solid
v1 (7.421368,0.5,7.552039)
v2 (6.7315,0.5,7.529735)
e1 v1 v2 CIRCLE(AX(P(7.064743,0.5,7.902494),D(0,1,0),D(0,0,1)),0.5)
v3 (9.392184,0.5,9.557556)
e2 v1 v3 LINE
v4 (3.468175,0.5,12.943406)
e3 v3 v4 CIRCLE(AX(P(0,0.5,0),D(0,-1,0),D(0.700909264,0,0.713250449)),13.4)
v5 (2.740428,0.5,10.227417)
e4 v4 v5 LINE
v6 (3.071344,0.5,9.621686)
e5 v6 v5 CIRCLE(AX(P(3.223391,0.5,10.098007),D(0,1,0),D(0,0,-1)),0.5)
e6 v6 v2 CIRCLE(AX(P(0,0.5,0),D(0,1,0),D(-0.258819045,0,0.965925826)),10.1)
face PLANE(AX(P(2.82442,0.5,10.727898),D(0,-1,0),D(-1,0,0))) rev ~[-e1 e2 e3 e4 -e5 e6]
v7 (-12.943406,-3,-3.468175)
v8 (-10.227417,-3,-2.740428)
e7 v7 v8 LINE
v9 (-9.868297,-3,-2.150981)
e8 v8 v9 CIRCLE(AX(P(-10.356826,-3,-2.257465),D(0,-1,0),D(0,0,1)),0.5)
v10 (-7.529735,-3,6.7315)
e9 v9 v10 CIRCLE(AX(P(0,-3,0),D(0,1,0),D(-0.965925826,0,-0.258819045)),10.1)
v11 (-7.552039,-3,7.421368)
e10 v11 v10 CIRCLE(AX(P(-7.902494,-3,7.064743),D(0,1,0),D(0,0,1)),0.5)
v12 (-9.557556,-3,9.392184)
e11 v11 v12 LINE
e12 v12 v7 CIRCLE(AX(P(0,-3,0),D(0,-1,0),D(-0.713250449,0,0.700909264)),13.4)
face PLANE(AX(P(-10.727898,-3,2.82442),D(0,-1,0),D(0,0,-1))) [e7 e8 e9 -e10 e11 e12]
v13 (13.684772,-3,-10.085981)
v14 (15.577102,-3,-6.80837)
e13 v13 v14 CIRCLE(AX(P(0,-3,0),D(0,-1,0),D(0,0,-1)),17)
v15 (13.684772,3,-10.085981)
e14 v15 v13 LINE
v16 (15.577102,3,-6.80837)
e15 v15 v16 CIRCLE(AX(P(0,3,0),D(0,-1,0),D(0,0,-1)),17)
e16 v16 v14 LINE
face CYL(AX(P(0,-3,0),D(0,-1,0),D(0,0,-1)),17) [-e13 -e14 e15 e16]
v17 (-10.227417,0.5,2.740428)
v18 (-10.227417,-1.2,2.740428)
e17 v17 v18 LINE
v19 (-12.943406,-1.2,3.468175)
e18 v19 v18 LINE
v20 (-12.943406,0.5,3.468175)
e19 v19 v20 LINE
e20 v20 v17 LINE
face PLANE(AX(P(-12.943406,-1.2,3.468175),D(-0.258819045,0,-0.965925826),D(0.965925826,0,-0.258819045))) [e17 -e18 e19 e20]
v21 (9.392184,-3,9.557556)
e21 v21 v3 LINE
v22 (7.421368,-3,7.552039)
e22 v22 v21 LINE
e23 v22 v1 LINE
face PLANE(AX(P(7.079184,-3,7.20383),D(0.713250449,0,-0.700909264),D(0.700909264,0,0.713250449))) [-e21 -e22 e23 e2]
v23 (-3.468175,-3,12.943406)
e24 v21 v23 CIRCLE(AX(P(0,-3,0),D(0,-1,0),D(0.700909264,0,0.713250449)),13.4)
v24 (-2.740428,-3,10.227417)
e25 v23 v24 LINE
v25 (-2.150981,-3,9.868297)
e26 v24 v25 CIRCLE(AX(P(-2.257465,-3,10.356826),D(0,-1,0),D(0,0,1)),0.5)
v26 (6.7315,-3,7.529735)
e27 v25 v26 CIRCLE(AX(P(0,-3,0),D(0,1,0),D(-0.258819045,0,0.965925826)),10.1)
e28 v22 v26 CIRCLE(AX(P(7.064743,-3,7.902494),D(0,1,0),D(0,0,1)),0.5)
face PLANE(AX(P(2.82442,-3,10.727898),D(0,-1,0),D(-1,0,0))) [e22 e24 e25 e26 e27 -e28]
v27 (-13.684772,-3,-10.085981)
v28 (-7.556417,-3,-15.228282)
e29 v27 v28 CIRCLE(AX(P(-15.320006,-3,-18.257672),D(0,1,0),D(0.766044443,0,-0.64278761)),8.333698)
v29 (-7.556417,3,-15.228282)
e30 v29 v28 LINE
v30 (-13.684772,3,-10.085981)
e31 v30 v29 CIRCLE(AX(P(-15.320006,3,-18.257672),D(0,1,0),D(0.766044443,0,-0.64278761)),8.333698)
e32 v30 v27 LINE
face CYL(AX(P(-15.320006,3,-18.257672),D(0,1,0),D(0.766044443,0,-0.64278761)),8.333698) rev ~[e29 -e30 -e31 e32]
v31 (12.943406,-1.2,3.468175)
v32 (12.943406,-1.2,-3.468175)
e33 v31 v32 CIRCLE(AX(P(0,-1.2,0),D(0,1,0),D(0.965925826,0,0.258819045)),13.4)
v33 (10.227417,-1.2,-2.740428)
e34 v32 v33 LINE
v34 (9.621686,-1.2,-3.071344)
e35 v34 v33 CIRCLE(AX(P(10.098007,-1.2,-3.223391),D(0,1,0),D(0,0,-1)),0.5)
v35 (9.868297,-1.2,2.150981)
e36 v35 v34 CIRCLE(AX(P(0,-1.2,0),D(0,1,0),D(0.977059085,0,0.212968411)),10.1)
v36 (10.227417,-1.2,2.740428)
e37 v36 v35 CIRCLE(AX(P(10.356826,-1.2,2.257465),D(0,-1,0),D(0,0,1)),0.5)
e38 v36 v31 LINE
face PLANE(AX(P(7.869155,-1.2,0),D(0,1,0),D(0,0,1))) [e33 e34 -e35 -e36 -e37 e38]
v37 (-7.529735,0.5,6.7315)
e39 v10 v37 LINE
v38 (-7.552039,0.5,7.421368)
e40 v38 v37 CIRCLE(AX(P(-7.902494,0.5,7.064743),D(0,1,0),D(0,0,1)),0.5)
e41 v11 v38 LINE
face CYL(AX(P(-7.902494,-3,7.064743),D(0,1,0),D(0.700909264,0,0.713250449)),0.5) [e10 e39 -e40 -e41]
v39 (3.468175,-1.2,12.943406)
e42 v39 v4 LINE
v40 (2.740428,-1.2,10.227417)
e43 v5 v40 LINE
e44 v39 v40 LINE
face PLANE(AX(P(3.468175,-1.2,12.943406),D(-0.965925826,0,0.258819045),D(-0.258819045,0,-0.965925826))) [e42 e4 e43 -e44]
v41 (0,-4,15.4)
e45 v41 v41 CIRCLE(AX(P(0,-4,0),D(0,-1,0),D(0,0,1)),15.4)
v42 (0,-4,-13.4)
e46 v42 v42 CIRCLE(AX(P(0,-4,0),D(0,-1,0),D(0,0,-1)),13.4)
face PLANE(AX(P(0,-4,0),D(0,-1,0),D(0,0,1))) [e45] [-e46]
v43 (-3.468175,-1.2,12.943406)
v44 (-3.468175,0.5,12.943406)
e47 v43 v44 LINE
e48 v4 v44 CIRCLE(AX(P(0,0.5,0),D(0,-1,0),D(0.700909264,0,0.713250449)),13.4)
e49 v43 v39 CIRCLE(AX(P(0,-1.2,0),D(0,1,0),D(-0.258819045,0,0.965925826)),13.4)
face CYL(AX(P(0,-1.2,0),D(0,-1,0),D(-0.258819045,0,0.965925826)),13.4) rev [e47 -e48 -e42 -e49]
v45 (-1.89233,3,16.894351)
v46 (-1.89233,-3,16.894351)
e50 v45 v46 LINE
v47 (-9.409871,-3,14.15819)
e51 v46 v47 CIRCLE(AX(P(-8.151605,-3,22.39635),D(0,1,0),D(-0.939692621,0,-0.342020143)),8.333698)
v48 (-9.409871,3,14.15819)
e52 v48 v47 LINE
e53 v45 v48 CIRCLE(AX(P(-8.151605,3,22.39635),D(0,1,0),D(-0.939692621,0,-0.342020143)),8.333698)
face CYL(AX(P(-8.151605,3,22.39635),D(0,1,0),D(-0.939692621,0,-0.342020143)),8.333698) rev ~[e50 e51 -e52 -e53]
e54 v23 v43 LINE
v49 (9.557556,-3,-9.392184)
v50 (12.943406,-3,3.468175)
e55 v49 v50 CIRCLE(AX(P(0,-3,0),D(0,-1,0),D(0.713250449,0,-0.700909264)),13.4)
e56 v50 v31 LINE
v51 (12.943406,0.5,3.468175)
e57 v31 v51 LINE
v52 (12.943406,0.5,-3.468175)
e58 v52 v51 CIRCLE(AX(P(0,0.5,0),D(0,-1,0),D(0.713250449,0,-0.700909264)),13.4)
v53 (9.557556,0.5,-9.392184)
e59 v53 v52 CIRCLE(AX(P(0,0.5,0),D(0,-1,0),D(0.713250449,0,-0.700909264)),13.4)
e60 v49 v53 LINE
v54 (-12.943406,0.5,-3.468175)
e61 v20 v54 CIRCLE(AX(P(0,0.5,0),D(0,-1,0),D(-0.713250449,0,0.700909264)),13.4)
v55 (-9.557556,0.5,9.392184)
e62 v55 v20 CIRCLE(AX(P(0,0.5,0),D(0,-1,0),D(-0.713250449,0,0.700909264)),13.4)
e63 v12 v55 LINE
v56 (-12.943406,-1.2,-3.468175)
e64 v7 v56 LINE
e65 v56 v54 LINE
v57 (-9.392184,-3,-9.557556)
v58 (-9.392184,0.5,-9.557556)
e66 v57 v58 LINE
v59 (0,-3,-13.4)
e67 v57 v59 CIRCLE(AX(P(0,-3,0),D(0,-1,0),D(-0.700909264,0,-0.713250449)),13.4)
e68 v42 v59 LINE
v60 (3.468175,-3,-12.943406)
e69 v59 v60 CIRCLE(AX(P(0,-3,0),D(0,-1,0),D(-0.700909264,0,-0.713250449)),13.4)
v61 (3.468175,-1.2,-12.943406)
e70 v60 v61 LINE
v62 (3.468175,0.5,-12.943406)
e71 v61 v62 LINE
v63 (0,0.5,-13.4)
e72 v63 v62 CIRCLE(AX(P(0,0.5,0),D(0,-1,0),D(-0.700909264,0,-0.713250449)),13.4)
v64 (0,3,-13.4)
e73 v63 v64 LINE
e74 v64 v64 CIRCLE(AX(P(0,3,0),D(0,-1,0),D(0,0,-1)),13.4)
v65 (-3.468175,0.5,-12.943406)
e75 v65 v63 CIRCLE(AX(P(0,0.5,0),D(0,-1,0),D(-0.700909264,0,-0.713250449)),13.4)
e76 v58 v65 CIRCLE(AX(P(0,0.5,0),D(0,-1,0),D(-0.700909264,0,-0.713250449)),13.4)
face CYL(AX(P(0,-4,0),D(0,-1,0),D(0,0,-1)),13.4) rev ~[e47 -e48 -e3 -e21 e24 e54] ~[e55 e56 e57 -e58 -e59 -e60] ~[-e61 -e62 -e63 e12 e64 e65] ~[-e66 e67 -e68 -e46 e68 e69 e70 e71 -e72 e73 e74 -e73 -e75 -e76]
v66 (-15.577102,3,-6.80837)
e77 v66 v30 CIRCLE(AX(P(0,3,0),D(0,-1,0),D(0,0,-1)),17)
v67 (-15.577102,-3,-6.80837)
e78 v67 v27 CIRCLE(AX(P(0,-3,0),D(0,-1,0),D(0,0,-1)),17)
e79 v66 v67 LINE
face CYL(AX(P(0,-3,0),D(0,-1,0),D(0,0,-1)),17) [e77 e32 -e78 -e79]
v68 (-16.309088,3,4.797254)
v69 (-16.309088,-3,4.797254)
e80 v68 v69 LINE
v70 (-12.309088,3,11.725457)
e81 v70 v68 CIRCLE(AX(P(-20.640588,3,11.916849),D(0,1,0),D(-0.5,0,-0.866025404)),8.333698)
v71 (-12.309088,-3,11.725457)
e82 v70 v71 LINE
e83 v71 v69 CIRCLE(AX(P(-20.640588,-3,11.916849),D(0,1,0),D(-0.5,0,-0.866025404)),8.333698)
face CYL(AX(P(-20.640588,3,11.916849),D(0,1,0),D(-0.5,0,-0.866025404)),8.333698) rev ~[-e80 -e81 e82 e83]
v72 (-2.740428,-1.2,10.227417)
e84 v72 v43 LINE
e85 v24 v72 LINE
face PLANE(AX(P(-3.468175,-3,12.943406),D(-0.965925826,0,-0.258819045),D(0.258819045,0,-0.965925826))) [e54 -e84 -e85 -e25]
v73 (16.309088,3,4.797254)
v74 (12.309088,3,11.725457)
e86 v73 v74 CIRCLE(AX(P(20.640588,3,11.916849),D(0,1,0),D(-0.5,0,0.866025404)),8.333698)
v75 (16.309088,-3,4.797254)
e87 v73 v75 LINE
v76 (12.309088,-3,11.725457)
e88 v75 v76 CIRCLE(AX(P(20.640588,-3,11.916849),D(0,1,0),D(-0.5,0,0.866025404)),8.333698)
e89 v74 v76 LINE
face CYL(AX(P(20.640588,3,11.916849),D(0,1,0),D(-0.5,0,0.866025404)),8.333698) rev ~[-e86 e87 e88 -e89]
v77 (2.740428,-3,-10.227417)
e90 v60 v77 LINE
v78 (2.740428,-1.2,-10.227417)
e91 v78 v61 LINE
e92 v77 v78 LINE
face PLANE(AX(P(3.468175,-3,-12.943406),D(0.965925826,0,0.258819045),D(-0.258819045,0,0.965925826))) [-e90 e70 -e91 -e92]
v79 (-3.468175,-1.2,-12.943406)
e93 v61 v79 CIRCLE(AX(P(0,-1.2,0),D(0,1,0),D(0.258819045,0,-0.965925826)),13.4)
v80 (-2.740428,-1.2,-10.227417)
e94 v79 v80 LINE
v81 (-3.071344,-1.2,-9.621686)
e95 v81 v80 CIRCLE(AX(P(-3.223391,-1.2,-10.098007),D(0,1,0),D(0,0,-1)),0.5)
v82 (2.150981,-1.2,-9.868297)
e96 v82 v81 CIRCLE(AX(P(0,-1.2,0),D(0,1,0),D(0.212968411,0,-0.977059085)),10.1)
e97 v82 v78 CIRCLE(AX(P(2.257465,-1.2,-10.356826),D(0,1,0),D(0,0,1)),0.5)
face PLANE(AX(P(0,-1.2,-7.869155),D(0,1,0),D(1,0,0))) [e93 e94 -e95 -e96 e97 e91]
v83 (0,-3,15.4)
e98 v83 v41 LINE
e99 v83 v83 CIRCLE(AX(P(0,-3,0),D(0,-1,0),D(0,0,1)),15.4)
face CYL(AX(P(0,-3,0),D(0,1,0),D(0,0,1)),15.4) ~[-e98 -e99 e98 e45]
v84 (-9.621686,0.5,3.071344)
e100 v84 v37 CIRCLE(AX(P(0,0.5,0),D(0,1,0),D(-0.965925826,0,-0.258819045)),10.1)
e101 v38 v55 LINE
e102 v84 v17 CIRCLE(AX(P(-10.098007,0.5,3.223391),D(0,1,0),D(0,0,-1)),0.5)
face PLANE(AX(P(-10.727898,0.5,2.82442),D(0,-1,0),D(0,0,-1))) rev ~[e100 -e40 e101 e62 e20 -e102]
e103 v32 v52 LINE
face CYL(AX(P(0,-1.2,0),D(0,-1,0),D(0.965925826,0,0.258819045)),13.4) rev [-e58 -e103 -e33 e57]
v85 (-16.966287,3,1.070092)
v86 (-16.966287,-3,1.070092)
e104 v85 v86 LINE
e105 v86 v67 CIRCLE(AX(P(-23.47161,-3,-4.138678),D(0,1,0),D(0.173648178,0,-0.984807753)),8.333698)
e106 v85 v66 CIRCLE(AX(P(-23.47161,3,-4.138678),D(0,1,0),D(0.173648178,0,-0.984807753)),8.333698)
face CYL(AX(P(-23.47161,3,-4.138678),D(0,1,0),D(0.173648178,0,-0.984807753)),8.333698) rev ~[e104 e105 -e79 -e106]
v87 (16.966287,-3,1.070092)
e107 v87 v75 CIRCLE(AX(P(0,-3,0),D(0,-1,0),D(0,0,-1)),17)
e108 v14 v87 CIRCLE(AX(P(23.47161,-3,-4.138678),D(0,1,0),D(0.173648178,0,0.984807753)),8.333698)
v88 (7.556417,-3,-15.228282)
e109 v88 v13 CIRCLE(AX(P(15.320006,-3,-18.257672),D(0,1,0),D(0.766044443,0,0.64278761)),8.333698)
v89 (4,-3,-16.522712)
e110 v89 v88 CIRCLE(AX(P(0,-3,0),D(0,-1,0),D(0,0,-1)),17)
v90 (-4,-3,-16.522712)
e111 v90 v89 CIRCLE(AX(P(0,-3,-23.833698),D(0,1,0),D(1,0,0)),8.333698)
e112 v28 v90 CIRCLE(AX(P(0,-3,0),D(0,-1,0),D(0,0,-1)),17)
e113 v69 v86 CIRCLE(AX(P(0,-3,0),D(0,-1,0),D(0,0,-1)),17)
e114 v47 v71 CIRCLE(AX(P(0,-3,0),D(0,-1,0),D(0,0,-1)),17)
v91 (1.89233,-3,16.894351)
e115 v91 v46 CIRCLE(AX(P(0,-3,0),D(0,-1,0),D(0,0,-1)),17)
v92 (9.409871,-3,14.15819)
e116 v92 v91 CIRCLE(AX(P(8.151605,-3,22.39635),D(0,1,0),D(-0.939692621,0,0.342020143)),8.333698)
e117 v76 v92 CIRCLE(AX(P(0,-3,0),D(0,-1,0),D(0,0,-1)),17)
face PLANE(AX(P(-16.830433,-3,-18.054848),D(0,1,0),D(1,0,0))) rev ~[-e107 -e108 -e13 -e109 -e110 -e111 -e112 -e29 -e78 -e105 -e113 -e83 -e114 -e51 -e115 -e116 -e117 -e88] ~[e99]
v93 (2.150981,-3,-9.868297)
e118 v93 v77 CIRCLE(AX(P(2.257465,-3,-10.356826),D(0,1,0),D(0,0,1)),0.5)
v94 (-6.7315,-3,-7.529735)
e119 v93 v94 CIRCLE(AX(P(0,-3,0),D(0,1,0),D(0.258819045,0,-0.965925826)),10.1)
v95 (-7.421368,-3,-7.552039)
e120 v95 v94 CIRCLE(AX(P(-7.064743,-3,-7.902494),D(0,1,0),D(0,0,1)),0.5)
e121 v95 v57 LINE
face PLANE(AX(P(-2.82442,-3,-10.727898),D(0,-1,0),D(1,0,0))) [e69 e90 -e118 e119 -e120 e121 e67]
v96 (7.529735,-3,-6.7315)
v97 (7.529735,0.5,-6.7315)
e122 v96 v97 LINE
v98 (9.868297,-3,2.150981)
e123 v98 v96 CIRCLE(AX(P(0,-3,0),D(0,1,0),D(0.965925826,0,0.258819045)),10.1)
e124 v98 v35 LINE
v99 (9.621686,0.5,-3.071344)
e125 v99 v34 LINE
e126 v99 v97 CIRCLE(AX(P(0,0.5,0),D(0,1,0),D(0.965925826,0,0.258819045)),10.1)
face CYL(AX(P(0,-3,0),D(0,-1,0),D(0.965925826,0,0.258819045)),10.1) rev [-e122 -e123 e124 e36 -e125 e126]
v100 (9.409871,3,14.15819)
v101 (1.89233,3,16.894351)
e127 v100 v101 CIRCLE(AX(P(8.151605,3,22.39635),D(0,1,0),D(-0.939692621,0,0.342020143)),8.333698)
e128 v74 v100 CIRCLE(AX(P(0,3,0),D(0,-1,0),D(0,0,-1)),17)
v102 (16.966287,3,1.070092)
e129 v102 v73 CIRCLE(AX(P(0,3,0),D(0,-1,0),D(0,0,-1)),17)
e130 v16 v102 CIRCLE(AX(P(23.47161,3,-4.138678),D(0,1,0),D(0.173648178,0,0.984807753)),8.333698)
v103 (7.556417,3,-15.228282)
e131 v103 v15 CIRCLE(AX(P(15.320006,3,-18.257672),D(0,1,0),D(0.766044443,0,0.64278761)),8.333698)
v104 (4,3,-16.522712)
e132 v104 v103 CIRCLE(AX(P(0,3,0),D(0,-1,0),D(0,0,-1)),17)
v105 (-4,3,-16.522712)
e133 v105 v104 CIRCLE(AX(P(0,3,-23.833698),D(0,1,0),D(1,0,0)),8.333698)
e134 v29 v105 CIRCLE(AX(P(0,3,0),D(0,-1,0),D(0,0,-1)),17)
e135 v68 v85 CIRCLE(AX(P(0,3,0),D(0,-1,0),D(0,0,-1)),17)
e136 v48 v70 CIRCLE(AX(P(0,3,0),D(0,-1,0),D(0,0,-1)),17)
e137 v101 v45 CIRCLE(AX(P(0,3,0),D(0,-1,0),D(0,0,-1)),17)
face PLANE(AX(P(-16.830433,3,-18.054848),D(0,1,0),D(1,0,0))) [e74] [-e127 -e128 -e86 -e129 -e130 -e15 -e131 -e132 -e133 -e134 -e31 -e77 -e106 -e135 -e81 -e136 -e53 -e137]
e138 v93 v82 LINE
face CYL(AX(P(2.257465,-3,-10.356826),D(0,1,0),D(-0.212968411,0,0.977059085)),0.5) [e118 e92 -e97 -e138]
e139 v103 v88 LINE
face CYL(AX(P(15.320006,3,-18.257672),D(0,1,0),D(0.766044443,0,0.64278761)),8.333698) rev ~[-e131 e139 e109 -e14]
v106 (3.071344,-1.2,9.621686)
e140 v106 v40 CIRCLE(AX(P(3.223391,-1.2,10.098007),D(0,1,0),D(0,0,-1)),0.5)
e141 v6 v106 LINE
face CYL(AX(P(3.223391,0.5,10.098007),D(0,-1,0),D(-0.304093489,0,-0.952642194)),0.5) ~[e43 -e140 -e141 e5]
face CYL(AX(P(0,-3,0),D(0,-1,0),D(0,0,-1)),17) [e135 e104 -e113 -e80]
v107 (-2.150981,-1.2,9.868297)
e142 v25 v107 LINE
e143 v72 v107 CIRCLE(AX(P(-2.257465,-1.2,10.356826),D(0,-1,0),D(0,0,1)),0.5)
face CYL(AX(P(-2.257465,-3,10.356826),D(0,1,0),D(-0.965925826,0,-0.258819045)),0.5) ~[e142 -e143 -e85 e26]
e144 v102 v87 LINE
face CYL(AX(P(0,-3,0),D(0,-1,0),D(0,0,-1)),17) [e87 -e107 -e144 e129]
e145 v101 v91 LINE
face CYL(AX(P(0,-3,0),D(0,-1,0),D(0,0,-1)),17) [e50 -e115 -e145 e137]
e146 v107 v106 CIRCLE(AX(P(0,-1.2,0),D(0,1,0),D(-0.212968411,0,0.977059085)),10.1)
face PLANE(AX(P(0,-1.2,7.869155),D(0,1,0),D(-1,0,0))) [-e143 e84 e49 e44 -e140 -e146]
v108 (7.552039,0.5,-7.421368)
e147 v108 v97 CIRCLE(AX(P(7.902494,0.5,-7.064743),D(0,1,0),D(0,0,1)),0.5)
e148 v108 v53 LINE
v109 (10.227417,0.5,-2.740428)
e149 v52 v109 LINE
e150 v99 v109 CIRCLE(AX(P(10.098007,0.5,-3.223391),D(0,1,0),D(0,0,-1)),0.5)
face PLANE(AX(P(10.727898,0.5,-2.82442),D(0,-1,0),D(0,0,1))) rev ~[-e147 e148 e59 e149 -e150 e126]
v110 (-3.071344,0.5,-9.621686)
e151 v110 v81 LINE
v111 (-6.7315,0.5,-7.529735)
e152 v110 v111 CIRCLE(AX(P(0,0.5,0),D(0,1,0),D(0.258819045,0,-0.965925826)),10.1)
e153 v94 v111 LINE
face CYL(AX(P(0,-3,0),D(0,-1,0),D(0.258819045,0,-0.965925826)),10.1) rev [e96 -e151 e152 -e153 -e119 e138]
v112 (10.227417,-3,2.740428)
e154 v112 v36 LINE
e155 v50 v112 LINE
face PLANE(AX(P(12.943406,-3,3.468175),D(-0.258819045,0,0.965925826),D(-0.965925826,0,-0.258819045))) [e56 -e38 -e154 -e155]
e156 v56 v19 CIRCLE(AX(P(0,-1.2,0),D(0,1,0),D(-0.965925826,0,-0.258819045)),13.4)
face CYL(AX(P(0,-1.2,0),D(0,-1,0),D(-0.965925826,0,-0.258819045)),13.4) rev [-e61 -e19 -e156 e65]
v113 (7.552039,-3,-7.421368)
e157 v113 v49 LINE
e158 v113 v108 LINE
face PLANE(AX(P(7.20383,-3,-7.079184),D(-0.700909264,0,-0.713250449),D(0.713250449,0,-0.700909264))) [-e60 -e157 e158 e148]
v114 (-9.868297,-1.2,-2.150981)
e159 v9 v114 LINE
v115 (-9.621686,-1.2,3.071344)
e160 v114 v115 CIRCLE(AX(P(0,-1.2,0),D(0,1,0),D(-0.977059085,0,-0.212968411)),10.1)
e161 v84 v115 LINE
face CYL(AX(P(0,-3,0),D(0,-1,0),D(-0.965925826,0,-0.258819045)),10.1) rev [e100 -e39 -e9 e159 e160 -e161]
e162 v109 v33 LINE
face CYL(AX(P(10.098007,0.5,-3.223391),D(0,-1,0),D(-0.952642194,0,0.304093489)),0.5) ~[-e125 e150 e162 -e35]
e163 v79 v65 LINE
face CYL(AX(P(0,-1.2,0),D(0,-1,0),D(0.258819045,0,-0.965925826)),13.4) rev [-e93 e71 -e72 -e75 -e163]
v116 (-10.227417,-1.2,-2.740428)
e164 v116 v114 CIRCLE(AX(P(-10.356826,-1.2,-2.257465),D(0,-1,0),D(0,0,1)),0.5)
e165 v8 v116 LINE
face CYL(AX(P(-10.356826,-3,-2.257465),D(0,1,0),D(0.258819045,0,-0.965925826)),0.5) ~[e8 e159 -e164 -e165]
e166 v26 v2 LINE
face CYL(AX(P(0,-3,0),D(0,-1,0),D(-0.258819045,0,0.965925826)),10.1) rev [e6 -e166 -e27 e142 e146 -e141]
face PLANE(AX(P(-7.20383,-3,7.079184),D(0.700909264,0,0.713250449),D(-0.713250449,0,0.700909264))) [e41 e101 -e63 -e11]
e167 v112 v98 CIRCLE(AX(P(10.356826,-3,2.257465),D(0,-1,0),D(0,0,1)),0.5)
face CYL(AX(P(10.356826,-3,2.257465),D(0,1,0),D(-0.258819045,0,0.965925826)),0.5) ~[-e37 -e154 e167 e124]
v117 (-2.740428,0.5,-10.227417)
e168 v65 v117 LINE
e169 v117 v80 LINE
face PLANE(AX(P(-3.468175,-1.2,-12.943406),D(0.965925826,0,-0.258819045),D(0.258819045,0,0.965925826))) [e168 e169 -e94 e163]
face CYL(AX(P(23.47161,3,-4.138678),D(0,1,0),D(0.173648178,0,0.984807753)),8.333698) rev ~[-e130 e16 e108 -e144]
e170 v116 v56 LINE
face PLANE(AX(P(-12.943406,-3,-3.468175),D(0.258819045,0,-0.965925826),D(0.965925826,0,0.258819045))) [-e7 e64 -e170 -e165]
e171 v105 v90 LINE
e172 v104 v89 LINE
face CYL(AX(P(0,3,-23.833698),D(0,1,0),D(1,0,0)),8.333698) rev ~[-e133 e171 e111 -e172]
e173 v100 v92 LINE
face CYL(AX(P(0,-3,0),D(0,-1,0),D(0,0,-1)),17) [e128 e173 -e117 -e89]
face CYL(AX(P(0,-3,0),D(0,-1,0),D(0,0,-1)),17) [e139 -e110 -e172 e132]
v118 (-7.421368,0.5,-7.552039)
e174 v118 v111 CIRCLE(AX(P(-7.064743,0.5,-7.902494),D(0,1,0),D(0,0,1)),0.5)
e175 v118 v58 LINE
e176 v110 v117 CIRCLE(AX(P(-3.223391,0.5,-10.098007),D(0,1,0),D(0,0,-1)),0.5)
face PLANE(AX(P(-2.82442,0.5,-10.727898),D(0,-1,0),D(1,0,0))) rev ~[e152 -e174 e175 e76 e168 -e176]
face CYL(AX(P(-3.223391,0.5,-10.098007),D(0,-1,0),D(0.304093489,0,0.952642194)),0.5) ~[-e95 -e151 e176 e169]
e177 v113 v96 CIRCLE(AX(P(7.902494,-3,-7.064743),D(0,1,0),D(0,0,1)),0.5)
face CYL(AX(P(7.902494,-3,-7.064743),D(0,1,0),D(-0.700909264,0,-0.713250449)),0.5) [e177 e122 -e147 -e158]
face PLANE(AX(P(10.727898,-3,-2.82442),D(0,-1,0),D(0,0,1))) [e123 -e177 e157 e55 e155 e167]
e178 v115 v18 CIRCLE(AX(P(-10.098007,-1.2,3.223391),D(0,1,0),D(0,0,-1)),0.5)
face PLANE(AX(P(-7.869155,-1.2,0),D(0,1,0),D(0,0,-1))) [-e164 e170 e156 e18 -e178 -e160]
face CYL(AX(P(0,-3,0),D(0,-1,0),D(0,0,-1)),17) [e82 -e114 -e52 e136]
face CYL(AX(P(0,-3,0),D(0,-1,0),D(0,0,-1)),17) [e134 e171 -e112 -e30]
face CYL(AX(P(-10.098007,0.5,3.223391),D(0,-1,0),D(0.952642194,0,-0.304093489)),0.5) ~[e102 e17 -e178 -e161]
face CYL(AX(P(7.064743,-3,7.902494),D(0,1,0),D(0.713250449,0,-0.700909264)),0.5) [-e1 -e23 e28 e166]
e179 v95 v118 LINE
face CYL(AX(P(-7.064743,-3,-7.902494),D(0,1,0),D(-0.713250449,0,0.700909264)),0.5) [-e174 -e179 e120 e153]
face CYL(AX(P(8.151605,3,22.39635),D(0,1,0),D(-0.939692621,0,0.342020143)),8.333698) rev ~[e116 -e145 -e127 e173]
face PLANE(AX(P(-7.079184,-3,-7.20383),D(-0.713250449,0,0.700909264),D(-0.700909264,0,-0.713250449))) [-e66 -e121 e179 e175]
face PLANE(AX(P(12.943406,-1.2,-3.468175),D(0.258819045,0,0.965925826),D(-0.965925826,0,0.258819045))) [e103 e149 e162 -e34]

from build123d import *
from build123d.topology import SkipClean

# Parameters (mm, degrees)
EXTRUDE_1_DEPTH                  = 3
SKETCH_3_R                       = 15.4
EXTRUDE_2_DEPTH                  = 1
SKETCH_4_R                       = 13.4
CUT_EXTRUDE_1_DEPTH              = 68.538877693
EXTRUDE_3_DEPTH                  = 3.5
CUT_EXTRUDE_START                = -1.7
CUT_EXTRUDE_2_DEPTH              = 1.7
FILLET_1_R                       = 0.5
PATTERN_CIRCULAR_1_COUNT         = 4
FILLET_1_OF_PATTERN_CIRCULAR_1_R = 0.5
HOLE_WIZARD_M2_1_D               = 2.4
HOLE_WIZARD_M2_1_CBORE_D         = 5
HOLE_WIZARD_M2_1_CBORE_DEPTH     = 1.6
HOLE_WIZARD_M2_2_D               = 2.4
HOLE_WIZARD_M2_2_CBORE_D         = 5
HOLE_WIZARD_M2_2_CBORE_DEPTH     = 1.6
HOLE_WIZARD_M2_1_2_D             = 1.6
FILLET_2_R                       = 3
CUT_EXTRUDE_START_2              = -1.6
SKETCH_15_R                      = 2.5
CUT_EXTRUDE_4_DEPTH              = 1.6
SKETCH_16_W                      = 105
SKETCH_16_H                      = 105
SKETCH_16_R                      = 17
CUT_EXTRUDE_5_DEPTH              = 68.44256816
SKETCH_17_R                      = 8.333697596
CUT_EXTRUDE_6_DEPTH              = 10
PATTERN_CIRCULAR_2_COUNT         = 9


with BuildPart() as part:
    # ｽｹｯﾁ2 → ﾎﾞｽ - 押し出し1 (new, symmetric)
    with BuildSketch(Plane(origin=(0, 0, 0), x_dir=(1, 0, 0), z_dir=(0, 1, 0))):
        with BuildLine():
            ThreePointArc((-13.5, 23.382685902), (-18.457166085, 19.706167058), (-22.449944321, 15))
            Line((-22.449944321, 15), (-13.5, 15))
            Line((-13.5, 15), (-13.5, 23.382685902))
        make_face()
        with BuildLine():
            Line((13.5, 15), (22.449944321, 15))
            ThreePointArc((22.449944321, 15), (18.457166085, 19.706167058), (13.5, 23.382685902))
            Line((13.5, 23.382685902), (13.5, 15))
        make_face()
        with BuildLine():
            Line((-47.5, 0), (-27, 0))
            ThreePointArc((-27, 0), (0, -27), (27, 0))
            Line((27, 0), (47.5, 0))
            Line((47.5, 0), (47.5, 15))
            Line((47.5, 15), (22.449944321, 15))
            Line((22.449944321, 15), (13.5, 15))
            Line((13.5, 15), (13.5, 23.382685902))
            ThreePointArc((13.5, 23.382685902), (0, 27), (-13.5, 23.382685902))
            Line((-13.5, 23.382685902), (-13.5, 15))
            Line((-13.5, 15), (-22.449944321, 15))
            Line((-22.449944321, 15), (-47.5, 15))
            Line((-47.5, 15), (-47.5, 0))
        make_face()
        with BuildLine():
            Line((-13.5, 47.5), (-13.5, 23.382685902))
            ThreePointArc((-13.5, 23.382685902), (0, 27), (13.5, 23.382685902))
            Line((13.5, 23.382685902), (13.5, 47.5))
            Line((13.5, 47.5), (-13.5, 47.5))
        make_face()
    extrude(amount=EXTRUDE_1_DEPTH, both=True)

    # ｽｹｯﾁ3 → ﾎﾞｽ - 押し出し2 (add)
    with BuildSketch(Plane.XZ.offset(3)):
        with Locations(Location((0, 0, 0), (0, 0, 90))):
            Circle(SKETCH_3_R)
    extrude(amount=EXTRUDE_2_DEPTH)

    # ｽｹｯﾁ4 → ｶｯﾄ - 押し出し1 (cut, through all)
    with BuildSketch(Plane.XZ.offset(4)):
        with Locations(Location((0, 0, 0), (0, 0, 270))):
            Circle(SKETCH_4_R)
    extrude(amount=-CUT_EXTRUDE_1_DEPTH, mode=Mode.SUBTRACT)

    # ｽｹｯﾁ5 → ﾎﾞｽ - 押し出し3 (add)
    with BuildSketch(Plane.XZ.offset(3)):
        with BuildLine():
            Line((-7.079183569, -7.203829536), (-9.392184142, -9.557556019))
            ThreePointArc((-9.392184142, -9.557556019), (-3.411666106, -12.958415581), (3.468175204, -12.943406072))
            Line((3.468175204, -12.943406072), (2.614072356, -9.755850846))
            ThreePointArc((2.614072356, -9.755850846), (-2.571479677, -9.767163983), (-7.079183569, -7.203829536))
        make_face()
    extrude_3 = extrude(amount=-EXTRUDE_3_DEPTH)

    # ｽｹｯﾁ6 → ｶｯﾄ - 押し出し2 (cut)
    with SkipClean():  # the faces are left unmerged after this step: merging them gives an invalid solid
        with BuildSketch(Plane(origin=(0, 0.5, 0), x_dir=(1, 0, 0), z_dir=(0, 1, 0)).offset(CUT_EXTRUDE_START)):
            with BuildLine():
                Line((-3.468175204, 12.943406072), (0, 0))
                Line((0, 0), (3.468175204, 12.943406072))
                ThreePointArc((3.468175204, 12.943406072), (0, 13.4), (-3.468175204, 12.943406072))
            make_face()
        cut_extrude_2 = extrude(amount=CUT_EXTRUDE_2_DEPTH, mode=Mode.SUBTRACT)

    # ﾌｨﾚｯﾄ1
    fillet_1_edges = [part.edges().sort_by_distance(p)[0] for p in [
        (-7.079183569, -1.25, -7.203829536),
        (2.614072356, -2.1, -9.755850846),
        (-2.614072356, -0.35, -9.755850846),
    ]]
    fillet(fillet_1_edges, radius=FILLET_1_R)

    # 円形ﾊﾟﾀｰﾝ1: ﾎﾞｽ - 押し出し3, ｶｯﾄ - 押し出し2 ×4 about axis
    with SkipClean():  # the faces are left unmerged after this step: merging them gives an invalid solid
        pattern_circular_1_axis = Axis((0, 0, 0), (0, 1, 0))
        add([extrude_3.rotate(pattern_circular_1_axis, i * 360 / PATTERN_CIRCULAR_1_COUNT) for i in range(1, PATTERN_CIRCULAR_1_COUNT)])
        add([cut_extrude_2.rotate(pattern_circular_1_axis, i * 360 / PATTERN_CIRCULAR_1_COUNT) for i in range(1, PATTERN_CIRCULAR_1_COUNT)], mode=Mode.SUBTRACT)

    # ﾌｨﾚｯﾄ1 of 円形ﾊﾟﾀｰﾝ1
    fillet_1_of_pattern_circular_1_edges = [part.edges().sort_by_distance(p)[0] for p in [
        (-7.203829536, -1.25, 7.079183569),
        (-9.755850846, -2.1, -2.614072356),
        (-9.755850846, -0.35, 2.614072356),
        (7.079183569, -1.25, 7.203829536),
        (-2.614072356, -2.1, 9.755850846),
        (2.614072356, -0.35, 9.755850846),
        (7.203829536, -1.25, -7.079183569),
        (9.755850846, -2.1, 2.614072356),
        (9.755850846, -0.35, -2.614072356),
    ]]
    fillet(fillet_1_of_pattern_circular_1_edges, radius=FILLET_1_OF_PATTERN_CIRCULAR_1_R)

    # Hole Wizard M2 _1 (through all)
    with Locations(Plane(origin=(0, 3, 0), x_dir=(1, 0, 0), z_dir=(0, 1, 0))):
        with Locations((-10.5, -22.5), (-22.5, -10.5)):
            hole_wizard_m2_1 = CounterBoreHole(HOLE_WIZARD_M2_1_D / 2, HOLE_WIZARD_M2_1_CBORE_D / 2, HOLE_WIZARD_M2_1_CBORE_DEPTH)

    # M2 なべ頭ねじ用座ぐり穴2 (through all)
    with Locations(Plane(origin=(0, -3, 0), x_dir=(-1, 0, 0), z_dir=(0, -1, 0))):
        with Locations((10.5, 21), (10.5, 42), (22.5, 10.5)):
            hole_wizard_m2_2 = CounterBoreHole(HOLE_WIZARD_M2_2_D / 2, HOLE_WIZARD_M2_2_CBORE_D / 2, HOLE_WIZARD_M2_2_CBORE_DEPTH)

    # Hole Wizard M2 _1 2 (through all)
    with Locations(Plane(origin=(0, -3, 0), x_dir=(-1, 0, 0), z_dir=(0, -1, 0))):
        with Locations((43.5, 12), (10.5, 43.5)):
            hole_wizard_m2_1_2 = Hole(HOLE_WIZARD_M2_1_2_D / 2)

    # ﾐﾗｰ1: Hole Wizard M2 _1, M2 なべ頭ねじ用座ぐり穴2, Hole Wizard M2 _1 2 across plane
    with SkipClean():  # the faces are left unmerged after this step: merging them gives an invalid solid
        add(hole_wizard_m2_1.mirror(Plane(origin=(0, 0, 0), x_dir=(0, 0, 1), z_dir=(1, 0, 0))), mode=Mode.SUBTRACT)
        add(hole_wizard_m2_2.mirror(Plane(origin=(0, 0, 0), x_dir=(0, 0, 1), z_dir=(1, 0, 0))), mode=Mode.SUBTRACT)
        add(hole_wizard_m2_1_2.mirror(Plane(origin=(0, 0, 0), x_dir=(0, 0, 1), z_dir=(1, 0, 0))), mode=Mode.SUBTRACT)

    # ﾌｨﾚｯﾄ2
    fillet_2_edges = [part.edges().sort_by_distance(p)[0] for p in [
        (47.5, 0, -15),
        (47.5, 0, 0),
        (27, 0, 0),
        (-27, 0, 0),
        (-47.5, 0, 0),
        (-47.5, 0, -15),
        (-22.449944321, 0, -15),
        (-13.5, 0, -23.382685902),
        (-13.5, 0, -47.5),
        (13.5, 0, -47.5),
        (13.5, 0, -23.382685902),
        (22.449944321, 0, -15),
    ]]
    fillet(fillet_2_edges, radius=FILLET_2_R)

    # ｽｹｯﾁ15 → ｶｯﾄ - 押し出し4 (cut)
    with SkipClean():  # the faces are left unmerged after this step: merging them gives an invalid solid
        with BuildSketch(Plane.XZ.offset(3).offset(CUT_EXTRUDE_START_2)):
            with Locations((-22.5, 10.5)):
                Circle(SKETCH_15_R)
            with Locations((22.5, 10.5)):
                Circle(SKETCH_15_R)
        extrude(amount=CUT_EXTRUDE_4_DEPTH, mode=Mode.SUBTRACT)

    # ｽｹｯﾁ16 → ｶｯﾄ - 押し出し5 (cut, through all)
    with SkipClean():  # the faces are left unmerged after this step: merging them gives an invalid solid
        with BuildSketch(Plane.XZ.offset(3)):
            Rectangle(SKETCH_16_W, SKETCH_16_H)
            with Locations(Location((0, 0, 0), (0, 0, 270))):
                Circle(SKETCH_16_R, mode=Mode.SUBTRACT)
        extrude(amount=-CUT_EXTRUDE_5_DEPTH, mode=Mode.SUBTRACT)

    # ｽｹｯﾁ17 → ｶｯﾄ - 押し出し6 (cut)
    with SkipClean():  # the faces are left unmerged after this step: merging them gives an invalid solid
        with BuildSketch(Plane(origin=(0, 3, 0), x_dir=(1, 0, 0), z_dir=(0, 1, 0))):
            with Locations((0, 23.833697596)):
                Circle(SKETCH_17_R)
        cut_extrude_6 = extrude(amount=-CUT_EXTRUDE_6_DEPTH, mode=Mode.SUBTRACT)

    # 円形ﾊﾟﾀｰﾝ2: ｶｯﾄ - 押し出し6 ×9 about axis
    with SkipClean():  # the faces are left unmerged after this step: merging them gives an invalid solid
        pattern_circular_2_axis = Axis((0, 0, 0), (0, 1, 0))
        for i in range(1, PATTERN_CIRCULAR_2_COUNT):
            add(cut_extrude_6.rotate(pattern_circular_2_axis, i * 360 / PATTERN_CIRCULAR_2_COUNT), mode=Mode.SUBTRACT)


solid = part.part
